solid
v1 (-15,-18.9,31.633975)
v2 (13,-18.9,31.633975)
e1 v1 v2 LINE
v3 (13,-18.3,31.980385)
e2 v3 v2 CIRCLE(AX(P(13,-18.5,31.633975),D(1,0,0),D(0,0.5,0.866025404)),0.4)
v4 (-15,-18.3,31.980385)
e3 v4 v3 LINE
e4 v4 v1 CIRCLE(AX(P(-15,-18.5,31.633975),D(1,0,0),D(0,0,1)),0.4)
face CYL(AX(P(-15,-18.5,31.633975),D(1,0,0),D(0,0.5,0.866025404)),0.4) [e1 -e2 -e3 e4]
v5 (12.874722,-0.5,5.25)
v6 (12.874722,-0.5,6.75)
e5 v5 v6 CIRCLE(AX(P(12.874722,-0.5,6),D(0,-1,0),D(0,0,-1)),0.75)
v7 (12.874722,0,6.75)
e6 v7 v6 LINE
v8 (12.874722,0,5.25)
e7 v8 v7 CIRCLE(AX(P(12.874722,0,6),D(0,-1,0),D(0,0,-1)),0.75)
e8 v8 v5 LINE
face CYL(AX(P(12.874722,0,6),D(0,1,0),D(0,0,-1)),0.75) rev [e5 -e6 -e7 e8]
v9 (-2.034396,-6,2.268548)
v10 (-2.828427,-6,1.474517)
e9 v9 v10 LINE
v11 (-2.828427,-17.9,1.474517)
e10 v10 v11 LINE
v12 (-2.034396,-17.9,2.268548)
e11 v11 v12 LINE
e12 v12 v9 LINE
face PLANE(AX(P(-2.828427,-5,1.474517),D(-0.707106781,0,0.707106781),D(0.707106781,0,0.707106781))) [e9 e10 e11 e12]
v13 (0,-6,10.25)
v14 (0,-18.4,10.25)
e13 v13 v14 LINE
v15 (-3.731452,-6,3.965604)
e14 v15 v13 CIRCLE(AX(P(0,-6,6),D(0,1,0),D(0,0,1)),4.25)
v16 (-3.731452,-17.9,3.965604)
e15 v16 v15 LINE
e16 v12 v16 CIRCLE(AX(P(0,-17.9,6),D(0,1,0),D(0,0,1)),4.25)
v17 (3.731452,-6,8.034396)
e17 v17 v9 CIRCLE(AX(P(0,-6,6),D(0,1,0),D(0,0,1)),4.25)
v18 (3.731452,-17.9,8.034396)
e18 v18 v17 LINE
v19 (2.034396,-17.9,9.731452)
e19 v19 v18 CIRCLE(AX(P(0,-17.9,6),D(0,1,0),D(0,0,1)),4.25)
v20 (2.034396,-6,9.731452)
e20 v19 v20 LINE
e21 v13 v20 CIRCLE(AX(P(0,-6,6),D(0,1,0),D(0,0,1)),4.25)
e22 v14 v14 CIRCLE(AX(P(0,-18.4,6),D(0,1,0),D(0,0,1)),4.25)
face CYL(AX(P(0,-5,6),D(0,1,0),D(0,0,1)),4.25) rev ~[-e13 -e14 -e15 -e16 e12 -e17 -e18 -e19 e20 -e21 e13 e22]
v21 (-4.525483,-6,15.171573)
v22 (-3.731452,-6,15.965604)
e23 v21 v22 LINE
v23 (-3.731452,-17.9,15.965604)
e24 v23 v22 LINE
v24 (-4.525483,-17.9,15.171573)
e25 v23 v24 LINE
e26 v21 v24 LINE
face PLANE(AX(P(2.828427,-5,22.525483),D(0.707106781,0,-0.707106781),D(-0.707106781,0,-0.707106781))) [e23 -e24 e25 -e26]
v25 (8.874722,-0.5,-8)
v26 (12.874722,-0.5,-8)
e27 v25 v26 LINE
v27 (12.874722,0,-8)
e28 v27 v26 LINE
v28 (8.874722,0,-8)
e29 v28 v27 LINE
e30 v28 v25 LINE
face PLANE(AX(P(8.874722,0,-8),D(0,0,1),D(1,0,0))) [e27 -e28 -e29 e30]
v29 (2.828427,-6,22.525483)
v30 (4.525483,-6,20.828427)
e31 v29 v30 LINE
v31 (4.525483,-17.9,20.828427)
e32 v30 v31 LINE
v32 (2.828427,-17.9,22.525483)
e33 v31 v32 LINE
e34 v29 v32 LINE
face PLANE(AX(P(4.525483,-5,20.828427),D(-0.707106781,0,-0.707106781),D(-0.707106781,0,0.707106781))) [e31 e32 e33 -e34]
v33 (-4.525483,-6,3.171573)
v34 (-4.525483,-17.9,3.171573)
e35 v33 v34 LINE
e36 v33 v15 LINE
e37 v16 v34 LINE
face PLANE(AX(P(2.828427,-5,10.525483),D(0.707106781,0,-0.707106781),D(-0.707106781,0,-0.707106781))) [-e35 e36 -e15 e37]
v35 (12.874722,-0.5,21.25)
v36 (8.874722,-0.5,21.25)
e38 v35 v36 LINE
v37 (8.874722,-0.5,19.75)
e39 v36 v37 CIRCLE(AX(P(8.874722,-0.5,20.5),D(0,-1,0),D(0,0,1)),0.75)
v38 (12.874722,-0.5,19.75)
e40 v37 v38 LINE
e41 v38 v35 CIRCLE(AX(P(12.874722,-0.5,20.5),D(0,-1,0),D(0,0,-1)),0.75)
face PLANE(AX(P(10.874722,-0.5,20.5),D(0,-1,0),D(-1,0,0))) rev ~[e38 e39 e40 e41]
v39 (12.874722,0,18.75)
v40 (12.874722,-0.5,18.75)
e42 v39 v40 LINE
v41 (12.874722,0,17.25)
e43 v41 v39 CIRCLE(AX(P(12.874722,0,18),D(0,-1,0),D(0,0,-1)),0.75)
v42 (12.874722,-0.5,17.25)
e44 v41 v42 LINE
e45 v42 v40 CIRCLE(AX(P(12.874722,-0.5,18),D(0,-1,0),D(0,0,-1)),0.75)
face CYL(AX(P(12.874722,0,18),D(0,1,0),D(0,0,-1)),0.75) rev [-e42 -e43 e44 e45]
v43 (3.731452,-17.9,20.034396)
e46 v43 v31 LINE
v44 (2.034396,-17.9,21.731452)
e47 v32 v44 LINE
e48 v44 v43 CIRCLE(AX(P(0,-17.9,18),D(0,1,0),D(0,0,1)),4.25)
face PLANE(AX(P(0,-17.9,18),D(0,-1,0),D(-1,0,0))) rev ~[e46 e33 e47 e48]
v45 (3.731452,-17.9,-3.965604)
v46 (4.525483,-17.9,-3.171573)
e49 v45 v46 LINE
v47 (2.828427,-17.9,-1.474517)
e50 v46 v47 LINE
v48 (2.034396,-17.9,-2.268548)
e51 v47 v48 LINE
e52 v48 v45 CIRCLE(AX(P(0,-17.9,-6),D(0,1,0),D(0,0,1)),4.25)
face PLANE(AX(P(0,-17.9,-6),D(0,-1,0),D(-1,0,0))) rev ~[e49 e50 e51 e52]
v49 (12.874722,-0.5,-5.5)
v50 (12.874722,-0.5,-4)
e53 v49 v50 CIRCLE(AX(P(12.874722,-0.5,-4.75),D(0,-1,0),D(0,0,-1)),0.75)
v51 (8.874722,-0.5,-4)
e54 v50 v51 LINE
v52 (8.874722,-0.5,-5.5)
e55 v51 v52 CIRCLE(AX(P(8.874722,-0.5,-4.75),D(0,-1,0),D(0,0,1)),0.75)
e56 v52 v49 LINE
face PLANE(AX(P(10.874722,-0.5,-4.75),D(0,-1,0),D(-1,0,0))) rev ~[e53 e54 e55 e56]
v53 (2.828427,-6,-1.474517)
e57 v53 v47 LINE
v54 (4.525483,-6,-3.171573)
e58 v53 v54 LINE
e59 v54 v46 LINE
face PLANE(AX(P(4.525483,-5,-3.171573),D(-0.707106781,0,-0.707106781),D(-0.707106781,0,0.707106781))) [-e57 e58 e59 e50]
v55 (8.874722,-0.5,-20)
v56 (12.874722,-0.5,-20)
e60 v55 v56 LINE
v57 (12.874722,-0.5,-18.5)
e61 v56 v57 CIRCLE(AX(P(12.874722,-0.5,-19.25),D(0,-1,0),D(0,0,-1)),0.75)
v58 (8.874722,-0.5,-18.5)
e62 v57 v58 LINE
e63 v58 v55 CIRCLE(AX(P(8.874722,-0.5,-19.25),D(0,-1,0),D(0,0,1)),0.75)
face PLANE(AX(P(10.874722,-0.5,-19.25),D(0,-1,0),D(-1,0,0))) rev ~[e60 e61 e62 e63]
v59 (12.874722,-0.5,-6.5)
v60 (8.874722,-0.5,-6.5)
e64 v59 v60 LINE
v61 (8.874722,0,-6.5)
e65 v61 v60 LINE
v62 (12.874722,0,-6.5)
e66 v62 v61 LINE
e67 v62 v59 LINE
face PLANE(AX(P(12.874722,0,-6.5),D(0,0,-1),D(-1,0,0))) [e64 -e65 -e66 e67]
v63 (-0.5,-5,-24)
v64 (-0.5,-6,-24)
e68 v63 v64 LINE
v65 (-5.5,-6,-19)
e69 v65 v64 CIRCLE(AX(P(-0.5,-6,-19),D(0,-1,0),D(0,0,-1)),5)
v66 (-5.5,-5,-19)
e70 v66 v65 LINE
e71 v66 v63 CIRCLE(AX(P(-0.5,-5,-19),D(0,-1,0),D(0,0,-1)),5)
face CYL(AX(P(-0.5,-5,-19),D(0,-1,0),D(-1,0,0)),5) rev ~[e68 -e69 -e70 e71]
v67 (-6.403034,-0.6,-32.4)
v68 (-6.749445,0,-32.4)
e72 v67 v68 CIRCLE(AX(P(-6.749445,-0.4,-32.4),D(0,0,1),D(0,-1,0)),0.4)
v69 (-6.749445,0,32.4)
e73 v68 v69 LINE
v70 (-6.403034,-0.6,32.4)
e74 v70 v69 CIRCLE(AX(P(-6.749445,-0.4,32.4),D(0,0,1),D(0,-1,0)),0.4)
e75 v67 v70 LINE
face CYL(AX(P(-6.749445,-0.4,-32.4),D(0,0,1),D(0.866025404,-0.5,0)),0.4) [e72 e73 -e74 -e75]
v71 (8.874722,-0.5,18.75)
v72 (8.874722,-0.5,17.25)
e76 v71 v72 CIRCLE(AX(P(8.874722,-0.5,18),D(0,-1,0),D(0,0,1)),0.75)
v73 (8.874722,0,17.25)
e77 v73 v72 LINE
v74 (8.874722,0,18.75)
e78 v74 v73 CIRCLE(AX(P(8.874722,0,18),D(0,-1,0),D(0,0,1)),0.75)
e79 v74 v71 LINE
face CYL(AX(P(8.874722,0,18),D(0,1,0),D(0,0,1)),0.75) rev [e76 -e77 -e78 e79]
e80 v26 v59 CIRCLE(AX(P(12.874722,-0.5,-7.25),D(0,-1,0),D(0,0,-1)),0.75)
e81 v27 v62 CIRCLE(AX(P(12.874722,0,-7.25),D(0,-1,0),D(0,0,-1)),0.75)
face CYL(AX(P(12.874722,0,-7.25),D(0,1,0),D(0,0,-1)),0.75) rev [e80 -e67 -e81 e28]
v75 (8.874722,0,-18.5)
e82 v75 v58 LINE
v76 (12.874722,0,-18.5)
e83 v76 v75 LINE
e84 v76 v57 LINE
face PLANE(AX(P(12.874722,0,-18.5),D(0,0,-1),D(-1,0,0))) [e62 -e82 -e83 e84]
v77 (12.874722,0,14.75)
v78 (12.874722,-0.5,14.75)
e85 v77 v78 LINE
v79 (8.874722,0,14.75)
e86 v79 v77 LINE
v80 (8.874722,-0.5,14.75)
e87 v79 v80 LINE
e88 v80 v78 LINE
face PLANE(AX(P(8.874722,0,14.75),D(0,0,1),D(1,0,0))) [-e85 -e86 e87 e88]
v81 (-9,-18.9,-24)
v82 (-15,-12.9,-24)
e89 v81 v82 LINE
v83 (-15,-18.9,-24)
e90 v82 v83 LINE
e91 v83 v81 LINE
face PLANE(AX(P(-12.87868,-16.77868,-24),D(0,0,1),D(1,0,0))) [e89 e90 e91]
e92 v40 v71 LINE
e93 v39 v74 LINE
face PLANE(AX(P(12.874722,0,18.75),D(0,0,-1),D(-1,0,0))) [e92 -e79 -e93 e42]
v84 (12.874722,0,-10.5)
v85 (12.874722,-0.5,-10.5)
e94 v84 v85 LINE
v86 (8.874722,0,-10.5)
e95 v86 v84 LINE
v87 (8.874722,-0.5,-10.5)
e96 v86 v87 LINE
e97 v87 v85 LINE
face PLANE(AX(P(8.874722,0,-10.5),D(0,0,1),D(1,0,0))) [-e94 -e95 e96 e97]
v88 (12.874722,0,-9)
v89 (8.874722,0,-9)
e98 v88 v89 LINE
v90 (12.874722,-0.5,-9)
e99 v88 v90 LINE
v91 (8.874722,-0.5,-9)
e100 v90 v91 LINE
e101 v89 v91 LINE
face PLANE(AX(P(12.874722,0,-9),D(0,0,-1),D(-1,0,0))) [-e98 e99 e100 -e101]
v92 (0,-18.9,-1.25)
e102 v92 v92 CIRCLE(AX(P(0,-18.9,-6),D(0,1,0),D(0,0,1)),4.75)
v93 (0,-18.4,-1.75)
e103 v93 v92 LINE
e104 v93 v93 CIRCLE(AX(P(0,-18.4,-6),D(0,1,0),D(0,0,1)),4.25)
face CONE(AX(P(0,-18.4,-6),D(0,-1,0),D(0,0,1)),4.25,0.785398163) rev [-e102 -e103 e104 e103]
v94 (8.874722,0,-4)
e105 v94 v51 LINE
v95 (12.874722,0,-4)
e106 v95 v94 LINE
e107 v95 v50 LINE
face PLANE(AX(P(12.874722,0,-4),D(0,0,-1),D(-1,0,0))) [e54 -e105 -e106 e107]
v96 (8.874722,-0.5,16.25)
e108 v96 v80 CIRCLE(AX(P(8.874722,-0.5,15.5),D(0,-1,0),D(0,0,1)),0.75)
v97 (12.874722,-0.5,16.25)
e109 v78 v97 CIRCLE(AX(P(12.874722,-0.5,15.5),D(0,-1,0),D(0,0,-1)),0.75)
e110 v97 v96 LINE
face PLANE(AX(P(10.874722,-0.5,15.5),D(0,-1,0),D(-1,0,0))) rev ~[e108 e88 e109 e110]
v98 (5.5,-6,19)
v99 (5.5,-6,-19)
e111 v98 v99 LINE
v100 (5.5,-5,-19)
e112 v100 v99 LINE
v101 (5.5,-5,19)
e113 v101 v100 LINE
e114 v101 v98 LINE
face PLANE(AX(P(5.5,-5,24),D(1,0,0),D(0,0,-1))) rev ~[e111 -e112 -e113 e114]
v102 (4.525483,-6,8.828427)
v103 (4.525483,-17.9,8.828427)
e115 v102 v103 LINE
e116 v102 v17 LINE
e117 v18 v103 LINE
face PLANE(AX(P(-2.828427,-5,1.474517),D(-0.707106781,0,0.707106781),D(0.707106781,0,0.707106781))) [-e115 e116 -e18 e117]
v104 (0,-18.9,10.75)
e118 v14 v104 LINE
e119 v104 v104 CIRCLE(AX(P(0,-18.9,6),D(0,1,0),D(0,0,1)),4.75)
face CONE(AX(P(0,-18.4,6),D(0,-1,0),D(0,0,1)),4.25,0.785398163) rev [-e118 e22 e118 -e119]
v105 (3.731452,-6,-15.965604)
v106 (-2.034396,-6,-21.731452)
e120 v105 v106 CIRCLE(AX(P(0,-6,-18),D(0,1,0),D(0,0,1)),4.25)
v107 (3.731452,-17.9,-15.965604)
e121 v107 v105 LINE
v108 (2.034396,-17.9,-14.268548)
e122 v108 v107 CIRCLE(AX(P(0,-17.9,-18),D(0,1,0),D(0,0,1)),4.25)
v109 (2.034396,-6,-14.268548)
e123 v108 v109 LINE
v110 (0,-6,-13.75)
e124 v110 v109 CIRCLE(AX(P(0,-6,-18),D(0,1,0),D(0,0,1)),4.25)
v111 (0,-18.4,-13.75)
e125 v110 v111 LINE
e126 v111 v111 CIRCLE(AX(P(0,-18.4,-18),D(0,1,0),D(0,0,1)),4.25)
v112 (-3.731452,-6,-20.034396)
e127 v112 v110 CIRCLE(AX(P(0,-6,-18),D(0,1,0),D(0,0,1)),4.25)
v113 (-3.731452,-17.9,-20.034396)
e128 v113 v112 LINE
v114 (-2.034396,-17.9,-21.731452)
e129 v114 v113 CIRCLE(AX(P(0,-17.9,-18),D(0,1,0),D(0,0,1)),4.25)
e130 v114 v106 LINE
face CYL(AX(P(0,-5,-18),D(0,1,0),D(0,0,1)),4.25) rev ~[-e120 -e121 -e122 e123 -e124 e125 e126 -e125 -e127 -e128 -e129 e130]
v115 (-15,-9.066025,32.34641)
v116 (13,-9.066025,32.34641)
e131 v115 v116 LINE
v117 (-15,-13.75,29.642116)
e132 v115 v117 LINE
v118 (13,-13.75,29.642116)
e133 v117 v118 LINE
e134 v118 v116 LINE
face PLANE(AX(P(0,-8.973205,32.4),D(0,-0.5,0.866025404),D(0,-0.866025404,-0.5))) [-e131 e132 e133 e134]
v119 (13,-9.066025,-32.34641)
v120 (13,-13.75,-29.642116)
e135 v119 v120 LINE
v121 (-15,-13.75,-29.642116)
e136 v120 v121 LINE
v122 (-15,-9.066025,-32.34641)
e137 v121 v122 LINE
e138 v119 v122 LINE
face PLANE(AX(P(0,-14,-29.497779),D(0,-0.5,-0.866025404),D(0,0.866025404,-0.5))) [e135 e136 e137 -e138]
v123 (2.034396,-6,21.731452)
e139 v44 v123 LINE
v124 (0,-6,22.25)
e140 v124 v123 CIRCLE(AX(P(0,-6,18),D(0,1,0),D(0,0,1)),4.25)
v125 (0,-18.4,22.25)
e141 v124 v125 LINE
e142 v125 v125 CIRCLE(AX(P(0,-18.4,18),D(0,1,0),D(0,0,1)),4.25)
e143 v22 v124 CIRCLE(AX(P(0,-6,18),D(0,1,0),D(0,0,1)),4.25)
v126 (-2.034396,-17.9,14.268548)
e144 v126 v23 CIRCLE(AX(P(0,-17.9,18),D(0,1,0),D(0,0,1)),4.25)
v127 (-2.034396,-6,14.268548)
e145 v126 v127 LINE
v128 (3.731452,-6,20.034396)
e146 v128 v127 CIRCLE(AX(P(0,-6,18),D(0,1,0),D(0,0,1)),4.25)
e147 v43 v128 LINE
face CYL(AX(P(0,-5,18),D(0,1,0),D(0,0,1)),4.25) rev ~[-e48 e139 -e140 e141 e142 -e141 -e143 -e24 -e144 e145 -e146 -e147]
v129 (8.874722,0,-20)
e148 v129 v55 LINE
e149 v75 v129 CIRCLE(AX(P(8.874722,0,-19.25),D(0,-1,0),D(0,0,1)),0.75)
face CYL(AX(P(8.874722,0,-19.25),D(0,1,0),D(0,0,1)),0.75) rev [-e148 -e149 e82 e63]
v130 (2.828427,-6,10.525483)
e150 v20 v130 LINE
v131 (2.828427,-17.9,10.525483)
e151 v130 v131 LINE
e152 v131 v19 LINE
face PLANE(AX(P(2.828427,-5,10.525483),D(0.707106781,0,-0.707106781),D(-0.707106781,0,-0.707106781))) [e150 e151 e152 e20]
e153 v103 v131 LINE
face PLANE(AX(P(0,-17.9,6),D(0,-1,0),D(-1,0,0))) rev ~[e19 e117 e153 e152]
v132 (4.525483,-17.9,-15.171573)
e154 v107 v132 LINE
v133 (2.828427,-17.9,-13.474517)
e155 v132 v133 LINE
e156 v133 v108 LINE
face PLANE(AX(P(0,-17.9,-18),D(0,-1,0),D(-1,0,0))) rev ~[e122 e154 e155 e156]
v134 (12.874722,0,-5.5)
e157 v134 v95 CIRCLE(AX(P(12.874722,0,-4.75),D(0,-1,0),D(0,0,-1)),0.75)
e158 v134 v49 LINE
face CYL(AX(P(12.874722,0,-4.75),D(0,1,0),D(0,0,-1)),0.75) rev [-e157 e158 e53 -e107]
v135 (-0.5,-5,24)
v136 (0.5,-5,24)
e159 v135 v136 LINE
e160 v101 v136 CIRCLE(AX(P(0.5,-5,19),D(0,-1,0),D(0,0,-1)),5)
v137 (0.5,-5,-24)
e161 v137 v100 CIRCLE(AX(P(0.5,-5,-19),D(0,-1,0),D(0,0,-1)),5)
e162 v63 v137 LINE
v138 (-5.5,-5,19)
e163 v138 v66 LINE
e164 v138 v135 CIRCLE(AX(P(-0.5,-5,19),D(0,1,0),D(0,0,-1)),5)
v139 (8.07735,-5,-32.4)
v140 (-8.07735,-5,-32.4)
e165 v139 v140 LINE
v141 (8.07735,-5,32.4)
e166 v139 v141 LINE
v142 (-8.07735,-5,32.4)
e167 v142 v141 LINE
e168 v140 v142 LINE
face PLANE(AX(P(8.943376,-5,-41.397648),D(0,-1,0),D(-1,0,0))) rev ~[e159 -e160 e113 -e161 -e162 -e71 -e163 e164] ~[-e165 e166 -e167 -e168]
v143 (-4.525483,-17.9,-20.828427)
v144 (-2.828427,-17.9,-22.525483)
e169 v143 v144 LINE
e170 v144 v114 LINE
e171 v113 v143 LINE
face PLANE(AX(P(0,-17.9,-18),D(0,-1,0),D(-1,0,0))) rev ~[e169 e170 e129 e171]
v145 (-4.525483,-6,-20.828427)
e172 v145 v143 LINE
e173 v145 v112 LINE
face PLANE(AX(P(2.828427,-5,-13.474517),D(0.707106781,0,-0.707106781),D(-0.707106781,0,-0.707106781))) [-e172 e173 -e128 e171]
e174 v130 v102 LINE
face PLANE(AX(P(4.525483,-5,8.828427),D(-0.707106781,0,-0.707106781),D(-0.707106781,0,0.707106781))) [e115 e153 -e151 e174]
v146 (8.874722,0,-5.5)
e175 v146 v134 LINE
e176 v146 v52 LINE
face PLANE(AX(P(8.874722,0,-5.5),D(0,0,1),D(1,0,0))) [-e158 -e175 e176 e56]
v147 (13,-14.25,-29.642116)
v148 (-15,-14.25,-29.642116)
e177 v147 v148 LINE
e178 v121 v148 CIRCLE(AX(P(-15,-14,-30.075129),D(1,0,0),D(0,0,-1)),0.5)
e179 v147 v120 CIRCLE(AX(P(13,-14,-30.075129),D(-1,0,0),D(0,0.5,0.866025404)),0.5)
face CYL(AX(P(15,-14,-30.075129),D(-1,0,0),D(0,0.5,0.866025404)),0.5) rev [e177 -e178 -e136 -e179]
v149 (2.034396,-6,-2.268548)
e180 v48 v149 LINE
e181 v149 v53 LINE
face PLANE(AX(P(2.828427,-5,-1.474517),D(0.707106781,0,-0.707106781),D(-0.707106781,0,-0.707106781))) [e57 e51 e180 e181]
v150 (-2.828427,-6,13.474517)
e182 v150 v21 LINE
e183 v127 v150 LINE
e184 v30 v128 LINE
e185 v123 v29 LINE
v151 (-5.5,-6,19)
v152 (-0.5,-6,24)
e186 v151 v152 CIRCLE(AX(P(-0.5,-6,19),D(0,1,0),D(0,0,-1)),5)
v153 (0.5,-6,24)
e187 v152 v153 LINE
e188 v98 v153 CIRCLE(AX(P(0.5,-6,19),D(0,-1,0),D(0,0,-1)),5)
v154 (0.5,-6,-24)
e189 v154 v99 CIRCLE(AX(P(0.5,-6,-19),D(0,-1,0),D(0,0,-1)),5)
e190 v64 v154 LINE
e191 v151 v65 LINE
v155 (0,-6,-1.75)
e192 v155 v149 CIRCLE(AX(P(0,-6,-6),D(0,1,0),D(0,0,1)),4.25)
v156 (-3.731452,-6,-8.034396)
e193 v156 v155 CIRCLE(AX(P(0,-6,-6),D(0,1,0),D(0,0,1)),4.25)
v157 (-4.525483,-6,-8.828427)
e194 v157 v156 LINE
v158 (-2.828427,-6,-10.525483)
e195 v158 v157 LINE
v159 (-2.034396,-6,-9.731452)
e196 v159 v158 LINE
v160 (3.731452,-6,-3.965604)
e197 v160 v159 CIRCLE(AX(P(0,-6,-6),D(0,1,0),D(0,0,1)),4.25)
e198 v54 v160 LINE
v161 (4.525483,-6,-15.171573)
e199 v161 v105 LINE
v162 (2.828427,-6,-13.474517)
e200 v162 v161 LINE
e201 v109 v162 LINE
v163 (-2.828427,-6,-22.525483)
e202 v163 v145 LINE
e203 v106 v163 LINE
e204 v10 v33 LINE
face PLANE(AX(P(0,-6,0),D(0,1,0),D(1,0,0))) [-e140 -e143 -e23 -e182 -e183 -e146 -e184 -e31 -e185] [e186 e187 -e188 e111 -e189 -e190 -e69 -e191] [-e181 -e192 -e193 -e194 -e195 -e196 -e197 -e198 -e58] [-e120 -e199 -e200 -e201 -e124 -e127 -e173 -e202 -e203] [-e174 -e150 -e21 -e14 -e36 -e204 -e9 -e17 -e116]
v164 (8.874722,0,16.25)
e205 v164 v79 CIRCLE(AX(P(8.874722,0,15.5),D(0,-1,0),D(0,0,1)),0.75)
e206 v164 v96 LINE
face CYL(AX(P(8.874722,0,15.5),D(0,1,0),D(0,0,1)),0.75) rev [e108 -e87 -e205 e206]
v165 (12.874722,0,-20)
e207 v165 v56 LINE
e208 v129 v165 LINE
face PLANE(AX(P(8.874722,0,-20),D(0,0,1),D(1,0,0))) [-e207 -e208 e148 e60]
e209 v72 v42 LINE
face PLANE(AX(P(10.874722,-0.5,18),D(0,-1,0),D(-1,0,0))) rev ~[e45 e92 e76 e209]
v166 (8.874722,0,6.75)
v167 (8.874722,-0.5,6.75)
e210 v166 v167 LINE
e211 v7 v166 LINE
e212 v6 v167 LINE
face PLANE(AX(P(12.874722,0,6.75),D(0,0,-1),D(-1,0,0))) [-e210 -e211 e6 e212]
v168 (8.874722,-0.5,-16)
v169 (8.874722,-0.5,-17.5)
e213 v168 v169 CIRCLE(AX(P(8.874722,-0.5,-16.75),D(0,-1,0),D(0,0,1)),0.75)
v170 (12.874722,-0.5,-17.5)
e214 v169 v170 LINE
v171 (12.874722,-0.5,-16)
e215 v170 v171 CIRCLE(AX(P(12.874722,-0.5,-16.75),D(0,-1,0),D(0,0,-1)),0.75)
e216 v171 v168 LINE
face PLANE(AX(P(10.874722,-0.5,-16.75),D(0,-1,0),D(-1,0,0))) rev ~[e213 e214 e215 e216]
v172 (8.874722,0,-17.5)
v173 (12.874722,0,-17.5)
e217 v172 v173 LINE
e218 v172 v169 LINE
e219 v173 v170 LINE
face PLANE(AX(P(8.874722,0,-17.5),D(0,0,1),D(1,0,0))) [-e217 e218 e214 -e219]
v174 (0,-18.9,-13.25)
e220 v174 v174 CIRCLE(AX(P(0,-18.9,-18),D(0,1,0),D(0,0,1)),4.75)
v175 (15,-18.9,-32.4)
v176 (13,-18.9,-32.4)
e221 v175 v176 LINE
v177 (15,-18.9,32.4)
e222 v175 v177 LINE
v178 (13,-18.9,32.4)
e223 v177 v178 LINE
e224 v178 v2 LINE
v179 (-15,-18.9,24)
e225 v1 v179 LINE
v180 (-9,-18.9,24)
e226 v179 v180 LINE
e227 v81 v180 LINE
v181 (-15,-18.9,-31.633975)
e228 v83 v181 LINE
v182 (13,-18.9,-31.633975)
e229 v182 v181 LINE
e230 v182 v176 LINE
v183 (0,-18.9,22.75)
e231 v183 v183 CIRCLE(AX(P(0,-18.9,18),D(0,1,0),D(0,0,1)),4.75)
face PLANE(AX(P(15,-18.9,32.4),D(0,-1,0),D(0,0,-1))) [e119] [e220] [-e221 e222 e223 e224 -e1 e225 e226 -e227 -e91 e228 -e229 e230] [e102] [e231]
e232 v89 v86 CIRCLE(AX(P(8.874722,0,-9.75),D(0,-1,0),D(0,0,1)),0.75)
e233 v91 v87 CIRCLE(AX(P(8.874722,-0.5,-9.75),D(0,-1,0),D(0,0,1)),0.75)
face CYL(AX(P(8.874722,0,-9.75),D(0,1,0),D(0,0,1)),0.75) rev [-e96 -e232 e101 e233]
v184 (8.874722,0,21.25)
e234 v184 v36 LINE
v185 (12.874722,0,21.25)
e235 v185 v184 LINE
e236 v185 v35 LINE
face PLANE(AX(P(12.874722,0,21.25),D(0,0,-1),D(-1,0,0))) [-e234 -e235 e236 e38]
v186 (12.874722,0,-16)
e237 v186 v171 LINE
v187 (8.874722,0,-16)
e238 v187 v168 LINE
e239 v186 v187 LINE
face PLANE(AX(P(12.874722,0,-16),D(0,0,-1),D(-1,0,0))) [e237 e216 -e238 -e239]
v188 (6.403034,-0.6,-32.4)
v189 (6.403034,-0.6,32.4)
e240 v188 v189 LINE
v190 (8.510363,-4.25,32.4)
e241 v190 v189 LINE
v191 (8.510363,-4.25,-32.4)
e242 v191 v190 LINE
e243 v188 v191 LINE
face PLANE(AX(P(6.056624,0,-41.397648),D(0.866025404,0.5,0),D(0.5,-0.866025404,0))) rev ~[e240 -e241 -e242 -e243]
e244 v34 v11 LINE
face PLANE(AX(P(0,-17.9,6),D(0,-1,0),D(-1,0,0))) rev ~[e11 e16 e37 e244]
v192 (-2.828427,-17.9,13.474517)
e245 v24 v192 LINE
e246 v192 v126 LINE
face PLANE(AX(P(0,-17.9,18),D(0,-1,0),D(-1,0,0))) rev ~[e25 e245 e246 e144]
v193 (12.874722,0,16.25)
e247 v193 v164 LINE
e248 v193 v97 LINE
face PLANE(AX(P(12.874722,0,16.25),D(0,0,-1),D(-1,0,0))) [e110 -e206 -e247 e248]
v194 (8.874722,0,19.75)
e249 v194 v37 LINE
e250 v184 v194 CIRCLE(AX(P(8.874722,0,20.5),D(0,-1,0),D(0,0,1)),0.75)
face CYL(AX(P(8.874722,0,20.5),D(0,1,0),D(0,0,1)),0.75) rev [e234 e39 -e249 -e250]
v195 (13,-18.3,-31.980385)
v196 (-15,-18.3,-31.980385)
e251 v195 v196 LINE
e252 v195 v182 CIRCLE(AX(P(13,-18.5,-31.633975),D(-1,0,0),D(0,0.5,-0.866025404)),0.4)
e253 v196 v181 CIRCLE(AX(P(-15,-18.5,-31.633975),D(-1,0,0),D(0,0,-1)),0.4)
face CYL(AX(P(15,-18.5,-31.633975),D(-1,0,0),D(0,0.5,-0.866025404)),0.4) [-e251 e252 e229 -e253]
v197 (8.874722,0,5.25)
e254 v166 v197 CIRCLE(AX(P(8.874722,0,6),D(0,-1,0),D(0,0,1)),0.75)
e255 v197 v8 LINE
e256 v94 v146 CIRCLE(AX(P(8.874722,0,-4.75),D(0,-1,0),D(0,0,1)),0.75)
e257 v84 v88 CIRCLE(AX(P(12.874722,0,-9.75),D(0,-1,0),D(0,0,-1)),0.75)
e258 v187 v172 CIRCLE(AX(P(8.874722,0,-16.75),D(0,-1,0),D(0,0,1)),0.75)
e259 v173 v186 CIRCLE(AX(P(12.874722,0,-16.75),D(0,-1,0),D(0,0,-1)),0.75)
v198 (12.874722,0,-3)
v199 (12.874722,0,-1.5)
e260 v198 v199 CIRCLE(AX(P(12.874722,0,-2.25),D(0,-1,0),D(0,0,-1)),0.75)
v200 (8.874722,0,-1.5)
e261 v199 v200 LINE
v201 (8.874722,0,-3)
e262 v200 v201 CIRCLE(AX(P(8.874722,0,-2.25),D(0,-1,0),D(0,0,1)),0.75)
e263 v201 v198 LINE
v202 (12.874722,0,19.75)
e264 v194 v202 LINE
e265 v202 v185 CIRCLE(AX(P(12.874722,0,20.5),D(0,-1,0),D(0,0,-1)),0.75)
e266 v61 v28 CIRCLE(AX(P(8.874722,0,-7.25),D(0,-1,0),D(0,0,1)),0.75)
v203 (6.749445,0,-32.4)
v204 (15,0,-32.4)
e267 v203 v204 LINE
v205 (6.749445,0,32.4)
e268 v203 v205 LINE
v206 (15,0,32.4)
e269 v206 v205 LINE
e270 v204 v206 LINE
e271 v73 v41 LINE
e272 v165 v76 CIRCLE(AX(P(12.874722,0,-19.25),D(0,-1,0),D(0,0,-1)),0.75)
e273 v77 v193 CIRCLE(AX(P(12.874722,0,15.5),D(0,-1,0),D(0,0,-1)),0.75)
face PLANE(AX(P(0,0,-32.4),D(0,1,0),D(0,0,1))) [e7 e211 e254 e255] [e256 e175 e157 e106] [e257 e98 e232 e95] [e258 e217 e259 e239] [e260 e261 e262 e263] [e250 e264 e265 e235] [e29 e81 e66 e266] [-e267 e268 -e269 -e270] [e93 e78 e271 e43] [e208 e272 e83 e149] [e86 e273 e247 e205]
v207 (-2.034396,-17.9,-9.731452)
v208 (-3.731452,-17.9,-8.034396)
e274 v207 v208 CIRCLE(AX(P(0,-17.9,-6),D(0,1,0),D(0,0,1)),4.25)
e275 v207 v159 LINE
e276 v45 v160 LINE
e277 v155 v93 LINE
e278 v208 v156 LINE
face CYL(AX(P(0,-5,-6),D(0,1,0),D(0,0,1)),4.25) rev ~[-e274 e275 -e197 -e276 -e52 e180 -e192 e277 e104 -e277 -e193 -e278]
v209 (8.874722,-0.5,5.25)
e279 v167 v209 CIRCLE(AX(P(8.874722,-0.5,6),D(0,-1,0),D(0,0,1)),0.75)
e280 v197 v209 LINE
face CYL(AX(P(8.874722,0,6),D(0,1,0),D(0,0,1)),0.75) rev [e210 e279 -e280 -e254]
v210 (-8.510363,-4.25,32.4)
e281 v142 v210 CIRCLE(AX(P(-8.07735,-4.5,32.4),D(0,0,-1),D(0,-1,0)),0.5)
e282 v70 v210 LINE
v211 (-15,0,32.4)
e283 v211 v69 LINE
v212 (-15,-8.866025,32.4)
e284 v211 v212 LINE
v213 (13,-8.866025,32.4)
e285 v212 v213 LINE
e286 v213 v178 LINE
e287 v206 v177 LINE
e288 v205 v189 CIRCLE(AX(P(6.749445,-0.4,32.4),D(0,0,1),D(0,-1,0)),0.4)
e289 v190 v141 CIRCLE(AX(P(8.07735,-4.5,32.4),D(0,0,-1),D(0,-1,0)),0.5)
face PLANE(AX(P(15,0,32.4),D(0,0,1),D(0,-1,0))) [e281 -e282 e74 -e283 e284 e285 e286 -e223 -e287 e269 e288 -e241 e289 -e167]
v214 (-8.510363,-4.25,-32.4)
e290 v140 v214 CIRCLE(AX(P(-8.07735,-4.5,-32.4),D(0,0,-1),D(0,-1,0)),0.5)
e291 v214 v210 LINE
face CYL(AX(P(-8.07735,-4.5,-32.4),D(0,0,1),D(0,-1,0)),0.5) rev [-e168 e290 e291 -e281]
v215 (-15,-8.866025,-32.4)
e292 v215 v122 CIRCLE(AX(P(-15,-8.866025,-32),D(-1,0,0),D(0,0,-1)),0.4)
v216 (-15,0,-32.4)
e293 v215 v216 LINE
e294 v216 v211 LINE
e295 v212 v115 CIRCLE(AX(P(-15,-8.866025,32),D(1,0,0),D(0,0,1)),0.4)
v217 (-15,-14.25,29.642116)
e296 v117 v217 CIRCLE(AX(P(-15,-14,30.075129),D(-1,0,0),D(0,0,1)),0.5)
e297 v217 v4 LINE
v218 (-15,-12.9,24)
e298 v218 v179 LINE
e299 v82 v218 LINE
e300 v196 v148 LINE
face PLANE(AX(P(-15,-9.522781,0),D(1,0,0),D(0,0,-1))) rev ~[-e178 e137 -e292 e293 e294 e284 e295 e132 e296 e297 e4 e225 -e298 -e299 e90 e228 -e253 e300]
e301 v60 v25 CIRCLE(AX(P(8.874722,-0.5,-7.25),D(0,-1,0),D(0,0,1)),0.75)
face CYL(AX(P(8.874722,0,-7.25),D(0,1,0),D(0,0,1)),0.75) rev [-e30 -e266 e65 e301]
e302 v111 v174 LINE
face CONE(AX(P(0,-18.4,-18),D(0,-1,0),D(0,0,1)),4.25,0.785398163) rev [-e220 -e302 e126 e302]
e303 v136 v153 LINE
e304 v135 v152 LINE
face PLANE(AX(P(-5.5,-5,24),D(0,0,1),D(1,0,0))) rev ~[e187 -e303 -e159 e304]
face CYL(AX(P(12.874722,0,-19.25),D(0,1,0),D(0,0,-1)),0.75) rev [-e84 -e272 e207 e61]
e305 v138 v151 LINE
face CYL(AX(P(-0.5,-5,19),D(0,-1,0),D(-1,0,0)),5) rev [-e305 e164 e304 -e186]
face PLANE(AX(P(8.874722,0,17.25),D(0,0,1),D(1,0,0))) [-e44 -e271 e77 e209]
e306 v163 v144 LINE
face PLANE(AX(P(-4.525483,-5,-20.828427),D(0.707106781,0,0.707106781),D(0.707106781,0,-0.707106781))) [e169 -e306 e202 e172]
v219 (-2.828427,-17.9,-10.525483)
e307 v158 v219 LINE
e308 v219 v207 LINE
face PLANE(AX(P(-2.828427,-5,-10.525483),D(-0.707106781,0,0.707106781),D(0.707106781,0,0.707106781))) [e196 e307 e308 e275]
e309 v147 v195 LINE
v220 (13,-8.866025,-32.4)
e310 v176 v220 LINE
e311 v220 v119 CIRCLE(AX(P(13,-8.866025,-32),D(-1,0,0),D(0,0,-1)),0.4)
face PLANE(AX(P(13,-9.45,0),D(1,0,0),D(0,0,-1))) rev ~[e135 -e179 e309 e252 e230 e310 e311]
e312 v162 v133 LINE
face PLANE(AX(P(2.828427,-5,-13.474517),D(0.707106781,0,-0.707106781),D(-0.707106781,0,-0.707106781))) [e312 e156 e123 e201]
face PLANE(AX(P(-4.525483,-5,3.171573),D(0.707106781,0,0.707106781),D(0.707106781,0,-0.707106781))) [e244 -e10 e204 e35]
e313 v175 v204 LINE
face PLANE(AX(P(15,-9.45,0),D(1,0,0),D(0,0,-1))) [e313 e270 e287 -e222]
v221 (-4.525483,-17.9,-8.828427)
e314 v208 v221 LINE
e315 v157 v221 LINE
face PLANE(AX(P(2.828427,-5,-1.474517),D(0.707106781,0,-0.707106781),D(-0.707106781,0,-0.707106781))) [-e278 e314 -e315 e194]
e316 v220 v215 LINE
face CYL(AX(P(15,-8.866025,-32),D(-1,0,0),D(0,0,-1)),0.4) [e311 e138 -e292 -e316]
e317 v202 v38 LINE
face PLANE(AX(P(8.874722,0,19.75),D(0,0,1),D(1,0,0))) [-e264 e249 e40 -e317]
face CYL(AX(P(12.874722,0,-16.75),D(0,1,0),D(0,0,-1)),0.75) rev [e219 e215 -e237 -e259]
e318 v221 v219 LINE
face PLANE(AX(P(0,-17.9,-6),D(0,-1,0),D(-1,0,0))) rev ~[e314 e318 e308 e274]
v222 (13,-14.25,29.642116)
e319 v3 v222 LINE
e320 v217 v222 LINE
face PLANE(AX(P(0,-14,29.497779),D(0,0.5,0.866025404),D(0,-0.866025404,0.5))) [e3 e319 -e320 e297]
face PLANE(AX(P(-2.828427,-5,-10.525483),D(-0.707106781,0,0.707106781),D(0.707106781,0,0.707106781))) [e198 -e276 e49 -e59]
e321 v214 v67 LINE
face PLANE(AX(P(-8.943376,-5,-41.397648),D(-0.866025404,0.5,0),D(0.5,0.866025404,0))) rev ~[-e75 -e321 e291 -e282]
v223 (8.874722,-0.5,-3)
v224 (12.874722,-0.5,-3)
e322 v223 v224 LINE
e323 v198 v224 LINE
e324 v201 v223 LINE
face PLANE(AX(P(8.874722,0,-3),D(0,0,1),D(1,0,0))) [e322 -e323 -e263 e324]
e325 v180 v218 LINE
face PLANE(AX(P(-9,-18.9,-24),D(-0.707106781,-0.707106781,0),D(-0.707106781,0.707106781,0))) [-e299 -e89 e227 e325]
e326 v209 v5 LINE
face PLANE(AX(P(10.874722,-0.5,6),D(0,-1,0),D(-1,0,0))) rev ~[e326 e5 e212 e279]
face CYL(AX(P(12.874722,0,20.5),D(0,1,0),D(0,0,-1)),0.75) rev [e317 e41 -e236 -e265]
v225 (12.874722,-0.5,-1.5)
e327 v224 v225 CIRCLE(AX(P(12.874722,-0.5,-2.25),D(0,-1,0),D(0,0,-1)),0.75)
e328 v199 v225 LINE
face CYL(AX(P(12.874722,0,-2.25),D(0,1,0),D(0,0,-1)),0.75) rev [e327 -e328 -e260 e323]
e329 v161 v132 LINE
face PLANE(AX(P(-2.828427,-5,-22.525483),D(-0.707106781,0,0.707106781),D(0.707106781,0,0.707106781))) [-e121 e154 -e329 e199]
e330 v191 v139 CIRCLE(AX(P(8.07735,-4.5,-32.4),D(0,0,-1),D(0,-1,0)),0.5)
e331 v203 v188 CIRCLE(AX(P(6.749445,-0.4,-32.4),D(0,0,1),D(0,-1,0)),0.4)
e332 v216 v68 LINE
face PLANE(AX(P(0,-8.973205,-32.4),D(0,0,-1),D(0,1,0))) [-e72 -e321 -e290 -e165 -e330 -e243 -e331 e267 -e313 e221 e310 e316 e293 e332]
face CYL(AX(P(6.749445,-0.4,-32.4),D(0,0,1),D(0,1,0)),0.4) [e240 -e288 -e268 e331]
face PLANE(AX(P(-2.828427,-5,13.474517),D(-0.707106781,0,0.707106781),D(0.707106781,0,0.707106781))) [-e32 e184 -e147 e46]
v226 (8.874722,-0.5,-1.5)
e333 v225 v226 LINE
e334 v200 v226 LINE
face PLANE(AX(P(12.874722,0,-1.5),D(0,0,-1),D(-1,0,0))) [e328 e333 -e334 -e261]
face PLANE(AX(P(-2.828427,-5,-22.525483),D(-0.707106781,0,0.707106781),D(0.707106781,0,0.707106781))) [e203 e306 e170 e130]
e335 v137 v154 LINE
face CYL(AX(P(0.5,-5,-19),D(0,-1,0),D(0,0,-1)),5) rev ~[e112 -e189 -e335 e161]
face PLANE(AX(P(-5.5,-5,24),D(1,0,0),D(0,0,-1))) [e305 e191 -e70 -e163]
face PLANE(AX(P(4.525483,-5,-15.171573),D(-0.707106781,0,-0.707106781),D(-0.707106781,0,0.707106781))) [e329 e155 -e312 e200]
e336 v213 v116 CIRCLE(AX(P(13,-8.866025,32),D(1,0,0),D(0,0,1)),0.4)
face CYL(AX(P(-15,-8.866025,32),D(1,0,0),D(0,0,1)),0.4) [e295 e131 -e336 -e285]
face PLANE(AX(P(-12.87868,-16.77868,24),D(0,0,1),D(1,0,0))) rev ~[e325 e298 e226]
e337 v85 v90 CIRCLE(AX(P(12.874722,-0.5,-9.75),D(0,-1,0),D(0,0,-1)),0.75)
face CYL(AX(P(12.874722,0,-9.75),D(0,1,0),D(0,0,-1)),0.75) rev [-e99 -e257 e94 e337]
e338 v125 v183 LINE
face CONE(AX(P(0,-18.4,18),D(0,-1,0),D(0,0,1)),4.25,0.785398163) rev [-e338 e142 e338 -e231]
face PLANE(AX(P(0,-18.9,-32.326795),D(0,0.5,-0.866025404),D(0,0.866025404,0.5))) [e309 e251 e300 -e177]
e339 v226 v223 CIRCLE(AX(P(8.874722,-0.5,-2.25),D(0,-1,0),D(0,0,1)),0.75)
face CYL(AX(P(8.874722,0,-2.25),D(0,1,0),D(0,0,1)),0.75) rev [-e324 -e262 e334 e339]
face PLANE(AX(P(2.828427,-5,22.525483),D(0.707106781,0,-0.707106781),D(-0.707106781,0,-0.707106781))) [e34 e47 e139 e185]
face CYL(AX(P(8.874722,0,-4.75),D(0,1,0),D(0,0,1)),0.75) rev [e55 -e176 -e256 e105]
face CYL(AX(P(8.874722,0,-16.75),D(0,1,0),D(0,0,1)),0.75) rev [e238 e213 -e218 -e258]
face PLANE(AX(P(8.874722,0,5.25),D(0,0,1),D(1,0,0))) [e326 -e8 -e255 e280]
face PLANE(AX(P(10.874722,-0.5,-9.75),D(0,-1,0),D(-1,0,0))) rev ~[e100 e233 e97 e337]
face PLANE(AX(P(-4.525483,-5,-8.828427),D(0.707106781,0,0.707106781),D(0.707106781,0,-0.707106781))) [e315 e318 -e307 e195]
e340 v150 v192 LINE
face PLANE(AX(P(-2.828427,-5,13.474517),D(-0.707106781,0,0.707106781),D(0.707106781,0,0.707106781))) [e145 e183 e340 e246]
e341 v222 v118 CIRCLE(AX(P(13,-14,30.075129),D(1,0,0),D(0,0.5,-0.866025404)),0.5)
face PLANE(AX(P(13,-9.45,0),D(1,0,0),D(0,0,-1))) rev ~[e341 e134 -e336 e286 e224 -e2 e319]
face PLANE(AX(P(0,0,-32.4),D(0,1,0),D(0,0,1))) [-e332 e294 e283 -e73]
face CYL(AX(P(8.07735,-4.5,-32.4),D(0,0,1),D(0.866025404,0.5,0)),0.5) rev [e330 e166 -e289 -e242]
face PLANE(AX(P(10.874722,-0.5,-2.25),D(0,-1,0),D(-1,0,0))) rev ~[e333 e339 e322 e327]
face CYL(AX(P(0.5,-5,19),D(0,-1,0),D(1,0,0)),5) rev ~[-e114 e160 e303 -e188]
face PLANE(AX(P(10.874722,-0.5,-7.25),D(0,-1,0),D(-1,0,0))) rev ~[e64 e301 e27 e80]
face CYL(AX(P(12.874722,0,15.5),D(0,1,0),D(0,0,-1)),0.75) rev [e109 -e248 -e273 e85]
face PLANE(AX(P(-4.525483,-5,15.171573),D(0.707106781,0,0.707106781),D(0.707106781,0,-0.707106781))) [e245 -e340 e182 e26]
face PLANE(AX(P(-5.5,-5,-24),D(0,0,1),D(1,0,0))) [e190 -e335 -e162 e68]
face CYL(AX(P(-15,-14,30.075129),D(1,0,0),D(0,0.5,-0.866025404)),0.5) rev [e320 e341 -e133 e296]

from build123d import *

# Parameters (mm, degrees)
BOSS_EXTRUDE1_DEPTH     = 15
CUT_EXTRUDE1_DEPTH      = 41.397648446
CUT_EXTRUDE1_DEPTH_BACK = 41.397648446
FILLET1_R               = 0.4
FILLET2_R               = 0.5
CUT_EXTRUDE2_REACH      = 40.314
SKETCH3_R               = 4.25
CUT_EXTRUDE3_DEPTH      = 12.9
SKETCH6_W               = 11
SKETCH6_H               = 48
CUT_EXTRUDE4_DEPTH      = 1
FILLET3_R               = 5
CHAMFER1_SIZE           = 0.5
BOSS_EXTRUDE2_DEPTH     = 2
CUT_EXTRUDE5_DEPTH      = 24
CUT_EXTRUDE5_DEPTH_BACK = 24
CUT_EXTRUDE6_DEPTH      = 0.5


with BuildPart() as part:
    # Sketch1 → Boss-Extrude1 (new, symmetric)
    with BuildSketch(Plane(origin=(0, 0, 0), x_dir=(0, 0, -1), z_dir=(1, 0, 0))):
        Polygon((32.4, -8.973205081), (32.4, 0), (-32.4, 0), (-32.4, -8.973205081), (-29.4977786, -14), (-32.326794919, -18.9), (32.326794919, -18.9), (29.4977786, -14), align=None)
    extrude(amount=BOSS_EXTRUDE1_DEPTH, both=True)

    # Sketch2 → Cut-Extrude1 (cut, two sides: drawn at the far end of the back side and taken through both)
    with BuildSketch(Plane.XY.offset(-CUT_EXTRUDE1_DEPTH_BACK)):
        Polygon((8.943375673, -5), (-8.943375673, -5), (-6.056624327, 0), (0, 0), (6.056624327, 0), align=None)
    extrude(amount=CUT_EXTRUDE1_DEPTH + CUT_EXTRUDE1_DEPTH_BACK, mode=Mode.SUBTRACT)

    # Fillet1
    fillet1_edges = [part.edges().sort_by_distance(p)[0] for p in [
        (0, -18.9, -32.326794919),
        (0, -18.9, 32.326794919),
        (0, -8.973205081, 32.4),
        (0, -8.973205081, -32.4),
        (6.056624327, 0, 0),
        (-6.056624327, 0, 0),
    ]]
    fillet(fillet1_edges, radius=FILLET1_R)

    # Fillet2
    fillet2_edges = [part.edges().sort_by_distance(p)[0] for p in [
        (0, -14, -29.4977786),
        (0, -14, 29.4977786),
        (8.943375673, -5, 0),
        (-8.943375673, -5, 0),
    ]]
    fillet(fillet2_edges, radius=FILLET2_R)

    # Sketch3 → Cut-Extrude2 (cut, up to next)
    with BuildSketch(Plane(origin=(0, -5, 0), x_dir=(1, 0, 0), z_dir=(0, 1, 0)), mode=Mode.PRIVATE) as cut_extrude2_sk1:
        with Locations(Location((0, 18, 0), (0, 0, 270))):
            Circle(SKETCH3_R)
    cut_extrude2_tool1 = extrude(cut_extrude2_sk1.sketch, amount=-CUT_EXTRUDE2_REACH, mode=Mode.PRIVATE) & part.part
    # Sketch3 → Cut-Extrude2 (cut, up to next)
    with BuildSketch(Plane(origin=(0, -5, 0), x_dir=(1, 0, 0), z_dir=(0, 1, 0)), mode=Mode.PRIVATE) as cut_extrude2_sk2:
        with Locations(Location((0, -18, 0), (0, 0, 270))):
            Circle(SKETCH3_R)
    cut_extrude2_tool2 = extrude(cut_extrude2_sk2.sketch, amount=-CUT_EXTRUDE2_REACH, mode=Mode.PRIVATE) & part.part
    # Sketch3 → Cut-Extrude2 (cut, up to next)
    with BuildSketch(Plane(origin=(0, -5, 0), x_dir=(1, 0, 0), z_dir=(0, 1, 0)), mode=Mode.PRIVATE) as cut_extrude2_sk3:
        with Locations(Location((0, 6, 0), (0, 0, 270))):
            Circle(SKETCH3_R)
    cut_extrude2_tool3 = extrude(cut_extrude2_sk3.sketch, amount=-CUT_EXTRUDE2_REACH, mode=Mode.PRIVATE) & part.part
    # Sketch3 → Cut-Extrude2 (cut, up to next)
    with BuildSketch(Plane(origin=(0, -5, 0), x_dir=(1, 0, 0), z_dir=(0, 1, 0)), mode=Mode.PRIVATE) as cut_extrude2_sk4:
        with Locations(Location((0, -6, 0), (0, 0, 270))):
            Circle(SKETCH3_R)
    cut_extrude2_tool4 = extrude(cut_extrude2_sk4.sketch, amount=-CUT_EXTRUDE2_REACH, mode=Mode.PRIVATE) & part.part
    add(cut_extrude2_tool1.solids().sort_by_distance((0, -5, -18))[0], mode=Mode.SUBTRACT)
    add(cut_extrude2_tool2.solids().sort_by_distance((0, -5, 18))[0], mode=Mode.SUBTRACT)
    add(cut_extrude2_tool3.solids().sort_by_distance((0, -5, -6))[0], mode=Mode.SUBTRACT)
    add(cut_extrude2_tool4.solids().sort_by_distance((0, -5, 6))[0], mode=Mode.SUBTRACT)

    # Sketch5 → Cut-Extrude3 (cut)
    with BuildSketch(Plane(origin=(0, -5, 0), x_dir=(1, 0, 0), z_dir=(0, 1, 0))):
        Polygon((-2.828427125, 22.5254834), (4.5254834, 15.171572875), (2.828427125, 13.4745166), (-4.5254834, 20.828427125), align=None)
        Polygon((-2.828427125, 10.5254834), (4.5254834, 3.171572875), (2.828427125, 1.4745166), (-4.5254834, 8.828427125), align=None)
        Polygon((-2.828427125, -1.4745166), (4.5254834, -8.828427125), (2.828427125, -10.5254834), (-4.5254834, -3.171572875), align=None)
        Polygon((-2.828427125, -13.4745166), (4.5254834, -20.828427125), (2.828427125, -22.5254834), (-4.5254834, -15.171572875), align=None)
    extrude(amount=-CUT_EXTRUDE3_DEPTH, mode=Mode.SUBTRACT)

    # Sketch6 → Cut-Extrude4 (cut)
    with BuildSketch(Plane(origin=(0, -5, 0), x_dir=(1, 0, 0), z_dir=(0, 1, 0))):
        Rectangle(SKETCH6_W, SKETCH6_H)
    extrude(amount=-CUT_EXTRUDE4_DEPTH, mode=Mode.SUBTRACT)

    # Fillet3
    fillet3_edges = [part.edges().sort_by_distance(p)[0] for p in [
        (-5.5, -5.5, 24),
        (-5.5, -5.5, -24),
        (5.5, -5.5, -24),
        (5.5, -5.5, 24),
    ]]
    fillet(fillet3_edges, radius=FILLET3_R)

    # Chamfer1
    chamfer1_edges = [part.edges().sort_by_distance(p)[0] for p in [
        (0, -18.9, 13.75),
        (0, -18.9, -22.25),
        (0, -18.9, 1.75),
        (0, -18.9, -10.25),
    ]]
    chamfer(chamfer1_edges, length=CHAMFER1_SIZE)

    # Sketch8 → Boss-Extrude2 (add)
    with BuildSketch(Plane(origin=(15, 0, 0), x_dir=(0, 0, -1), z_dir=(1, 0, 0))):
        Polygon((-32.4, -8.866025404), (-32.4, -18.9), (-31.633974596, -18.9), (31.633974596, -18.9), (32.4, -18.9), (32.4, -8.866025404), (32.4, 0), (-32.4, 0), align=None)
    extrude(amount=-BOSS_EXTRUDE2_DEPTH)

    # Sketch9 → Cut-Extrude5 (cut, two sides: drawn at the far end of the back side and taken through both)
    with BuildSketch(Plane.XY.offset(-CUT_EXTRUDE5_DEPTH_BACK)):
        Polygon((-15, -18.9), (-9, -18.9), (-15, -12.9), align=None)
    extrude(amount=CUT_EXTRUDE5_DEPTH + CUT_EXTRUDE5_DEPTH_BACK, mode=Mode.SUBTRACT)

    # Sketch10 → Cut-Extrude6 (cut)
    with BuildSketch(Plane(origin=(0, 0, 0), x_dir=(1, 0, 0), z_dir=(0, 1, 0))):
        with BuildLine():
            Line((8.874722325, -5.25), (12.874722325, -5.25))
            ThreePointArc((12.874722325, -5.25), (13.624722325, -6), (12.874722325, -6.75))
            Line((12.874722325, -6.75), (8.874722325, -6.75))
            ThreePointArc((8.874722325, -6.75), (8.124722325, -6), (8.874722325, -5.25))
        make_face()
        with BuildLine():
            Line((8.874722325, 17.5), (12.874722325, 17.5))
            ThreePointArc((12.874722325, 17.5), (13.624722325, 16.75), (12.874722325, 16))
            Line((12.874722325, 16), (8.874722325, 16))
            ThreePointArc((8.874722325, 16), (8.124722325, 16.75), (8.874722325, 17.5))
        make_face()
        with BuildLine():
            Line((8.874722325, 20), (12.874722325, 20))
            ThreePointArc((12.874722325, 20), (13.624722325, 19.25), (12.874722325, 18.5))
            Line((12.874722325, 18.5), (8.874722325, 18.5))
            ThreePointArc((8.874722325, 18.5), (8.124722325, 19.25), (8.874722325, 20))
        make_face()
        with BuildLine():
            Line((8.874722325, -19.75), (12.874722325, -19.75))
            ThreePointArc((12.874722325, -19.75), (13.624722325, -20.5), (12.874722325, -21.25))
            Line((12.874722325, -21.25), (8.874722325, -21.25))
            ThreePointArc((8.874722325, -21.25), (8.124722325, -20.5), (8.874722325, -19.75))
        make_face()
        with BuildLine():
            Line((8.874722325, -17.25), (12.874722325, -17.25))
            ThreePointArc((12.874722325, -17.25), (13.624722325, -18), (12.874722325, -18.75))
            Line((12.874722325, -18.75), (8.874722325, -18.75))
            ThreePointArc((8.874722325, -18.75), (8.124722325, -18), (8.874722325, -17.25))
        make_face()
        with BuildLine():
            Line((8.874722325, -14.75), (12.874722325, -14.75))
            ThreePointArc((12.874722325, -14.75), (13.624722325, -15.5), (12.874722325, -16.25))
            Line((12.874722325, -16.25), (8.874722325, -16.25))
            ThreePointArc((8.874722325, -16.25), (8.124722325, -15.5), (8.874722325, -14.75))
        make_face()
        with BuildLine():
            Line((8.874722325, 5.5), (12.874722325, 5.5))
            ThreePointArc((12.874722325, 5.5), (13.624722325, 4.75), (12.874722325, 4))
            Line((12.874722325, 4), (8.874722325, 4))
            ThreePointArc((8.874722325, 4), (8.124722325, 4.75), (8.874722325, 5.5))
        make_face()
        with BuildLine():
            Line((8.874722325, 8), (12.874722325, 8))
            ThreePointArc((12.874722325, 8), (13.624722325, 7.25), (12.874722325, 6.5))
            Line((12.874722325, 6.5), (8.874722325, 6.5))
            ThreePointArc((8.874722325, 6.5), (8.124722325, 7.25), (8.874722325, 8))
        make_face()
        with BuildLine():
            Line((8.874722325, 10.5), (12.874722325, 10.5))
            ThreePointArc((12.874722325, 10.5), (13.624722325, 9.75), (12.874722325, 9))
            Line((12.874722325, 9), (8.874722325, 9))
            ThreePointArc((8.874722325, 9), (8.124722325, 9.75), (8.874722325, 10.5))
        make_face()
        with BuildLine():
            Line((8.874722325, 3), (12.874722325, 3))
            ThreePointArc((12.874722325, 3), (13.624722325, 2.25), (12.874722325, 1.5))
            Line((12.874722325, 1.5), (8.874722325, 1.5))
            ThreePointArc((8.874722325, 1.5), (8.124722325, 2.25), (8.874722325, 3))
        make_face()
    extrude(amount=-CUT_EXTRUDE6_DEPTH, mode=Mode.SUBTRACT)


solid = part.part
